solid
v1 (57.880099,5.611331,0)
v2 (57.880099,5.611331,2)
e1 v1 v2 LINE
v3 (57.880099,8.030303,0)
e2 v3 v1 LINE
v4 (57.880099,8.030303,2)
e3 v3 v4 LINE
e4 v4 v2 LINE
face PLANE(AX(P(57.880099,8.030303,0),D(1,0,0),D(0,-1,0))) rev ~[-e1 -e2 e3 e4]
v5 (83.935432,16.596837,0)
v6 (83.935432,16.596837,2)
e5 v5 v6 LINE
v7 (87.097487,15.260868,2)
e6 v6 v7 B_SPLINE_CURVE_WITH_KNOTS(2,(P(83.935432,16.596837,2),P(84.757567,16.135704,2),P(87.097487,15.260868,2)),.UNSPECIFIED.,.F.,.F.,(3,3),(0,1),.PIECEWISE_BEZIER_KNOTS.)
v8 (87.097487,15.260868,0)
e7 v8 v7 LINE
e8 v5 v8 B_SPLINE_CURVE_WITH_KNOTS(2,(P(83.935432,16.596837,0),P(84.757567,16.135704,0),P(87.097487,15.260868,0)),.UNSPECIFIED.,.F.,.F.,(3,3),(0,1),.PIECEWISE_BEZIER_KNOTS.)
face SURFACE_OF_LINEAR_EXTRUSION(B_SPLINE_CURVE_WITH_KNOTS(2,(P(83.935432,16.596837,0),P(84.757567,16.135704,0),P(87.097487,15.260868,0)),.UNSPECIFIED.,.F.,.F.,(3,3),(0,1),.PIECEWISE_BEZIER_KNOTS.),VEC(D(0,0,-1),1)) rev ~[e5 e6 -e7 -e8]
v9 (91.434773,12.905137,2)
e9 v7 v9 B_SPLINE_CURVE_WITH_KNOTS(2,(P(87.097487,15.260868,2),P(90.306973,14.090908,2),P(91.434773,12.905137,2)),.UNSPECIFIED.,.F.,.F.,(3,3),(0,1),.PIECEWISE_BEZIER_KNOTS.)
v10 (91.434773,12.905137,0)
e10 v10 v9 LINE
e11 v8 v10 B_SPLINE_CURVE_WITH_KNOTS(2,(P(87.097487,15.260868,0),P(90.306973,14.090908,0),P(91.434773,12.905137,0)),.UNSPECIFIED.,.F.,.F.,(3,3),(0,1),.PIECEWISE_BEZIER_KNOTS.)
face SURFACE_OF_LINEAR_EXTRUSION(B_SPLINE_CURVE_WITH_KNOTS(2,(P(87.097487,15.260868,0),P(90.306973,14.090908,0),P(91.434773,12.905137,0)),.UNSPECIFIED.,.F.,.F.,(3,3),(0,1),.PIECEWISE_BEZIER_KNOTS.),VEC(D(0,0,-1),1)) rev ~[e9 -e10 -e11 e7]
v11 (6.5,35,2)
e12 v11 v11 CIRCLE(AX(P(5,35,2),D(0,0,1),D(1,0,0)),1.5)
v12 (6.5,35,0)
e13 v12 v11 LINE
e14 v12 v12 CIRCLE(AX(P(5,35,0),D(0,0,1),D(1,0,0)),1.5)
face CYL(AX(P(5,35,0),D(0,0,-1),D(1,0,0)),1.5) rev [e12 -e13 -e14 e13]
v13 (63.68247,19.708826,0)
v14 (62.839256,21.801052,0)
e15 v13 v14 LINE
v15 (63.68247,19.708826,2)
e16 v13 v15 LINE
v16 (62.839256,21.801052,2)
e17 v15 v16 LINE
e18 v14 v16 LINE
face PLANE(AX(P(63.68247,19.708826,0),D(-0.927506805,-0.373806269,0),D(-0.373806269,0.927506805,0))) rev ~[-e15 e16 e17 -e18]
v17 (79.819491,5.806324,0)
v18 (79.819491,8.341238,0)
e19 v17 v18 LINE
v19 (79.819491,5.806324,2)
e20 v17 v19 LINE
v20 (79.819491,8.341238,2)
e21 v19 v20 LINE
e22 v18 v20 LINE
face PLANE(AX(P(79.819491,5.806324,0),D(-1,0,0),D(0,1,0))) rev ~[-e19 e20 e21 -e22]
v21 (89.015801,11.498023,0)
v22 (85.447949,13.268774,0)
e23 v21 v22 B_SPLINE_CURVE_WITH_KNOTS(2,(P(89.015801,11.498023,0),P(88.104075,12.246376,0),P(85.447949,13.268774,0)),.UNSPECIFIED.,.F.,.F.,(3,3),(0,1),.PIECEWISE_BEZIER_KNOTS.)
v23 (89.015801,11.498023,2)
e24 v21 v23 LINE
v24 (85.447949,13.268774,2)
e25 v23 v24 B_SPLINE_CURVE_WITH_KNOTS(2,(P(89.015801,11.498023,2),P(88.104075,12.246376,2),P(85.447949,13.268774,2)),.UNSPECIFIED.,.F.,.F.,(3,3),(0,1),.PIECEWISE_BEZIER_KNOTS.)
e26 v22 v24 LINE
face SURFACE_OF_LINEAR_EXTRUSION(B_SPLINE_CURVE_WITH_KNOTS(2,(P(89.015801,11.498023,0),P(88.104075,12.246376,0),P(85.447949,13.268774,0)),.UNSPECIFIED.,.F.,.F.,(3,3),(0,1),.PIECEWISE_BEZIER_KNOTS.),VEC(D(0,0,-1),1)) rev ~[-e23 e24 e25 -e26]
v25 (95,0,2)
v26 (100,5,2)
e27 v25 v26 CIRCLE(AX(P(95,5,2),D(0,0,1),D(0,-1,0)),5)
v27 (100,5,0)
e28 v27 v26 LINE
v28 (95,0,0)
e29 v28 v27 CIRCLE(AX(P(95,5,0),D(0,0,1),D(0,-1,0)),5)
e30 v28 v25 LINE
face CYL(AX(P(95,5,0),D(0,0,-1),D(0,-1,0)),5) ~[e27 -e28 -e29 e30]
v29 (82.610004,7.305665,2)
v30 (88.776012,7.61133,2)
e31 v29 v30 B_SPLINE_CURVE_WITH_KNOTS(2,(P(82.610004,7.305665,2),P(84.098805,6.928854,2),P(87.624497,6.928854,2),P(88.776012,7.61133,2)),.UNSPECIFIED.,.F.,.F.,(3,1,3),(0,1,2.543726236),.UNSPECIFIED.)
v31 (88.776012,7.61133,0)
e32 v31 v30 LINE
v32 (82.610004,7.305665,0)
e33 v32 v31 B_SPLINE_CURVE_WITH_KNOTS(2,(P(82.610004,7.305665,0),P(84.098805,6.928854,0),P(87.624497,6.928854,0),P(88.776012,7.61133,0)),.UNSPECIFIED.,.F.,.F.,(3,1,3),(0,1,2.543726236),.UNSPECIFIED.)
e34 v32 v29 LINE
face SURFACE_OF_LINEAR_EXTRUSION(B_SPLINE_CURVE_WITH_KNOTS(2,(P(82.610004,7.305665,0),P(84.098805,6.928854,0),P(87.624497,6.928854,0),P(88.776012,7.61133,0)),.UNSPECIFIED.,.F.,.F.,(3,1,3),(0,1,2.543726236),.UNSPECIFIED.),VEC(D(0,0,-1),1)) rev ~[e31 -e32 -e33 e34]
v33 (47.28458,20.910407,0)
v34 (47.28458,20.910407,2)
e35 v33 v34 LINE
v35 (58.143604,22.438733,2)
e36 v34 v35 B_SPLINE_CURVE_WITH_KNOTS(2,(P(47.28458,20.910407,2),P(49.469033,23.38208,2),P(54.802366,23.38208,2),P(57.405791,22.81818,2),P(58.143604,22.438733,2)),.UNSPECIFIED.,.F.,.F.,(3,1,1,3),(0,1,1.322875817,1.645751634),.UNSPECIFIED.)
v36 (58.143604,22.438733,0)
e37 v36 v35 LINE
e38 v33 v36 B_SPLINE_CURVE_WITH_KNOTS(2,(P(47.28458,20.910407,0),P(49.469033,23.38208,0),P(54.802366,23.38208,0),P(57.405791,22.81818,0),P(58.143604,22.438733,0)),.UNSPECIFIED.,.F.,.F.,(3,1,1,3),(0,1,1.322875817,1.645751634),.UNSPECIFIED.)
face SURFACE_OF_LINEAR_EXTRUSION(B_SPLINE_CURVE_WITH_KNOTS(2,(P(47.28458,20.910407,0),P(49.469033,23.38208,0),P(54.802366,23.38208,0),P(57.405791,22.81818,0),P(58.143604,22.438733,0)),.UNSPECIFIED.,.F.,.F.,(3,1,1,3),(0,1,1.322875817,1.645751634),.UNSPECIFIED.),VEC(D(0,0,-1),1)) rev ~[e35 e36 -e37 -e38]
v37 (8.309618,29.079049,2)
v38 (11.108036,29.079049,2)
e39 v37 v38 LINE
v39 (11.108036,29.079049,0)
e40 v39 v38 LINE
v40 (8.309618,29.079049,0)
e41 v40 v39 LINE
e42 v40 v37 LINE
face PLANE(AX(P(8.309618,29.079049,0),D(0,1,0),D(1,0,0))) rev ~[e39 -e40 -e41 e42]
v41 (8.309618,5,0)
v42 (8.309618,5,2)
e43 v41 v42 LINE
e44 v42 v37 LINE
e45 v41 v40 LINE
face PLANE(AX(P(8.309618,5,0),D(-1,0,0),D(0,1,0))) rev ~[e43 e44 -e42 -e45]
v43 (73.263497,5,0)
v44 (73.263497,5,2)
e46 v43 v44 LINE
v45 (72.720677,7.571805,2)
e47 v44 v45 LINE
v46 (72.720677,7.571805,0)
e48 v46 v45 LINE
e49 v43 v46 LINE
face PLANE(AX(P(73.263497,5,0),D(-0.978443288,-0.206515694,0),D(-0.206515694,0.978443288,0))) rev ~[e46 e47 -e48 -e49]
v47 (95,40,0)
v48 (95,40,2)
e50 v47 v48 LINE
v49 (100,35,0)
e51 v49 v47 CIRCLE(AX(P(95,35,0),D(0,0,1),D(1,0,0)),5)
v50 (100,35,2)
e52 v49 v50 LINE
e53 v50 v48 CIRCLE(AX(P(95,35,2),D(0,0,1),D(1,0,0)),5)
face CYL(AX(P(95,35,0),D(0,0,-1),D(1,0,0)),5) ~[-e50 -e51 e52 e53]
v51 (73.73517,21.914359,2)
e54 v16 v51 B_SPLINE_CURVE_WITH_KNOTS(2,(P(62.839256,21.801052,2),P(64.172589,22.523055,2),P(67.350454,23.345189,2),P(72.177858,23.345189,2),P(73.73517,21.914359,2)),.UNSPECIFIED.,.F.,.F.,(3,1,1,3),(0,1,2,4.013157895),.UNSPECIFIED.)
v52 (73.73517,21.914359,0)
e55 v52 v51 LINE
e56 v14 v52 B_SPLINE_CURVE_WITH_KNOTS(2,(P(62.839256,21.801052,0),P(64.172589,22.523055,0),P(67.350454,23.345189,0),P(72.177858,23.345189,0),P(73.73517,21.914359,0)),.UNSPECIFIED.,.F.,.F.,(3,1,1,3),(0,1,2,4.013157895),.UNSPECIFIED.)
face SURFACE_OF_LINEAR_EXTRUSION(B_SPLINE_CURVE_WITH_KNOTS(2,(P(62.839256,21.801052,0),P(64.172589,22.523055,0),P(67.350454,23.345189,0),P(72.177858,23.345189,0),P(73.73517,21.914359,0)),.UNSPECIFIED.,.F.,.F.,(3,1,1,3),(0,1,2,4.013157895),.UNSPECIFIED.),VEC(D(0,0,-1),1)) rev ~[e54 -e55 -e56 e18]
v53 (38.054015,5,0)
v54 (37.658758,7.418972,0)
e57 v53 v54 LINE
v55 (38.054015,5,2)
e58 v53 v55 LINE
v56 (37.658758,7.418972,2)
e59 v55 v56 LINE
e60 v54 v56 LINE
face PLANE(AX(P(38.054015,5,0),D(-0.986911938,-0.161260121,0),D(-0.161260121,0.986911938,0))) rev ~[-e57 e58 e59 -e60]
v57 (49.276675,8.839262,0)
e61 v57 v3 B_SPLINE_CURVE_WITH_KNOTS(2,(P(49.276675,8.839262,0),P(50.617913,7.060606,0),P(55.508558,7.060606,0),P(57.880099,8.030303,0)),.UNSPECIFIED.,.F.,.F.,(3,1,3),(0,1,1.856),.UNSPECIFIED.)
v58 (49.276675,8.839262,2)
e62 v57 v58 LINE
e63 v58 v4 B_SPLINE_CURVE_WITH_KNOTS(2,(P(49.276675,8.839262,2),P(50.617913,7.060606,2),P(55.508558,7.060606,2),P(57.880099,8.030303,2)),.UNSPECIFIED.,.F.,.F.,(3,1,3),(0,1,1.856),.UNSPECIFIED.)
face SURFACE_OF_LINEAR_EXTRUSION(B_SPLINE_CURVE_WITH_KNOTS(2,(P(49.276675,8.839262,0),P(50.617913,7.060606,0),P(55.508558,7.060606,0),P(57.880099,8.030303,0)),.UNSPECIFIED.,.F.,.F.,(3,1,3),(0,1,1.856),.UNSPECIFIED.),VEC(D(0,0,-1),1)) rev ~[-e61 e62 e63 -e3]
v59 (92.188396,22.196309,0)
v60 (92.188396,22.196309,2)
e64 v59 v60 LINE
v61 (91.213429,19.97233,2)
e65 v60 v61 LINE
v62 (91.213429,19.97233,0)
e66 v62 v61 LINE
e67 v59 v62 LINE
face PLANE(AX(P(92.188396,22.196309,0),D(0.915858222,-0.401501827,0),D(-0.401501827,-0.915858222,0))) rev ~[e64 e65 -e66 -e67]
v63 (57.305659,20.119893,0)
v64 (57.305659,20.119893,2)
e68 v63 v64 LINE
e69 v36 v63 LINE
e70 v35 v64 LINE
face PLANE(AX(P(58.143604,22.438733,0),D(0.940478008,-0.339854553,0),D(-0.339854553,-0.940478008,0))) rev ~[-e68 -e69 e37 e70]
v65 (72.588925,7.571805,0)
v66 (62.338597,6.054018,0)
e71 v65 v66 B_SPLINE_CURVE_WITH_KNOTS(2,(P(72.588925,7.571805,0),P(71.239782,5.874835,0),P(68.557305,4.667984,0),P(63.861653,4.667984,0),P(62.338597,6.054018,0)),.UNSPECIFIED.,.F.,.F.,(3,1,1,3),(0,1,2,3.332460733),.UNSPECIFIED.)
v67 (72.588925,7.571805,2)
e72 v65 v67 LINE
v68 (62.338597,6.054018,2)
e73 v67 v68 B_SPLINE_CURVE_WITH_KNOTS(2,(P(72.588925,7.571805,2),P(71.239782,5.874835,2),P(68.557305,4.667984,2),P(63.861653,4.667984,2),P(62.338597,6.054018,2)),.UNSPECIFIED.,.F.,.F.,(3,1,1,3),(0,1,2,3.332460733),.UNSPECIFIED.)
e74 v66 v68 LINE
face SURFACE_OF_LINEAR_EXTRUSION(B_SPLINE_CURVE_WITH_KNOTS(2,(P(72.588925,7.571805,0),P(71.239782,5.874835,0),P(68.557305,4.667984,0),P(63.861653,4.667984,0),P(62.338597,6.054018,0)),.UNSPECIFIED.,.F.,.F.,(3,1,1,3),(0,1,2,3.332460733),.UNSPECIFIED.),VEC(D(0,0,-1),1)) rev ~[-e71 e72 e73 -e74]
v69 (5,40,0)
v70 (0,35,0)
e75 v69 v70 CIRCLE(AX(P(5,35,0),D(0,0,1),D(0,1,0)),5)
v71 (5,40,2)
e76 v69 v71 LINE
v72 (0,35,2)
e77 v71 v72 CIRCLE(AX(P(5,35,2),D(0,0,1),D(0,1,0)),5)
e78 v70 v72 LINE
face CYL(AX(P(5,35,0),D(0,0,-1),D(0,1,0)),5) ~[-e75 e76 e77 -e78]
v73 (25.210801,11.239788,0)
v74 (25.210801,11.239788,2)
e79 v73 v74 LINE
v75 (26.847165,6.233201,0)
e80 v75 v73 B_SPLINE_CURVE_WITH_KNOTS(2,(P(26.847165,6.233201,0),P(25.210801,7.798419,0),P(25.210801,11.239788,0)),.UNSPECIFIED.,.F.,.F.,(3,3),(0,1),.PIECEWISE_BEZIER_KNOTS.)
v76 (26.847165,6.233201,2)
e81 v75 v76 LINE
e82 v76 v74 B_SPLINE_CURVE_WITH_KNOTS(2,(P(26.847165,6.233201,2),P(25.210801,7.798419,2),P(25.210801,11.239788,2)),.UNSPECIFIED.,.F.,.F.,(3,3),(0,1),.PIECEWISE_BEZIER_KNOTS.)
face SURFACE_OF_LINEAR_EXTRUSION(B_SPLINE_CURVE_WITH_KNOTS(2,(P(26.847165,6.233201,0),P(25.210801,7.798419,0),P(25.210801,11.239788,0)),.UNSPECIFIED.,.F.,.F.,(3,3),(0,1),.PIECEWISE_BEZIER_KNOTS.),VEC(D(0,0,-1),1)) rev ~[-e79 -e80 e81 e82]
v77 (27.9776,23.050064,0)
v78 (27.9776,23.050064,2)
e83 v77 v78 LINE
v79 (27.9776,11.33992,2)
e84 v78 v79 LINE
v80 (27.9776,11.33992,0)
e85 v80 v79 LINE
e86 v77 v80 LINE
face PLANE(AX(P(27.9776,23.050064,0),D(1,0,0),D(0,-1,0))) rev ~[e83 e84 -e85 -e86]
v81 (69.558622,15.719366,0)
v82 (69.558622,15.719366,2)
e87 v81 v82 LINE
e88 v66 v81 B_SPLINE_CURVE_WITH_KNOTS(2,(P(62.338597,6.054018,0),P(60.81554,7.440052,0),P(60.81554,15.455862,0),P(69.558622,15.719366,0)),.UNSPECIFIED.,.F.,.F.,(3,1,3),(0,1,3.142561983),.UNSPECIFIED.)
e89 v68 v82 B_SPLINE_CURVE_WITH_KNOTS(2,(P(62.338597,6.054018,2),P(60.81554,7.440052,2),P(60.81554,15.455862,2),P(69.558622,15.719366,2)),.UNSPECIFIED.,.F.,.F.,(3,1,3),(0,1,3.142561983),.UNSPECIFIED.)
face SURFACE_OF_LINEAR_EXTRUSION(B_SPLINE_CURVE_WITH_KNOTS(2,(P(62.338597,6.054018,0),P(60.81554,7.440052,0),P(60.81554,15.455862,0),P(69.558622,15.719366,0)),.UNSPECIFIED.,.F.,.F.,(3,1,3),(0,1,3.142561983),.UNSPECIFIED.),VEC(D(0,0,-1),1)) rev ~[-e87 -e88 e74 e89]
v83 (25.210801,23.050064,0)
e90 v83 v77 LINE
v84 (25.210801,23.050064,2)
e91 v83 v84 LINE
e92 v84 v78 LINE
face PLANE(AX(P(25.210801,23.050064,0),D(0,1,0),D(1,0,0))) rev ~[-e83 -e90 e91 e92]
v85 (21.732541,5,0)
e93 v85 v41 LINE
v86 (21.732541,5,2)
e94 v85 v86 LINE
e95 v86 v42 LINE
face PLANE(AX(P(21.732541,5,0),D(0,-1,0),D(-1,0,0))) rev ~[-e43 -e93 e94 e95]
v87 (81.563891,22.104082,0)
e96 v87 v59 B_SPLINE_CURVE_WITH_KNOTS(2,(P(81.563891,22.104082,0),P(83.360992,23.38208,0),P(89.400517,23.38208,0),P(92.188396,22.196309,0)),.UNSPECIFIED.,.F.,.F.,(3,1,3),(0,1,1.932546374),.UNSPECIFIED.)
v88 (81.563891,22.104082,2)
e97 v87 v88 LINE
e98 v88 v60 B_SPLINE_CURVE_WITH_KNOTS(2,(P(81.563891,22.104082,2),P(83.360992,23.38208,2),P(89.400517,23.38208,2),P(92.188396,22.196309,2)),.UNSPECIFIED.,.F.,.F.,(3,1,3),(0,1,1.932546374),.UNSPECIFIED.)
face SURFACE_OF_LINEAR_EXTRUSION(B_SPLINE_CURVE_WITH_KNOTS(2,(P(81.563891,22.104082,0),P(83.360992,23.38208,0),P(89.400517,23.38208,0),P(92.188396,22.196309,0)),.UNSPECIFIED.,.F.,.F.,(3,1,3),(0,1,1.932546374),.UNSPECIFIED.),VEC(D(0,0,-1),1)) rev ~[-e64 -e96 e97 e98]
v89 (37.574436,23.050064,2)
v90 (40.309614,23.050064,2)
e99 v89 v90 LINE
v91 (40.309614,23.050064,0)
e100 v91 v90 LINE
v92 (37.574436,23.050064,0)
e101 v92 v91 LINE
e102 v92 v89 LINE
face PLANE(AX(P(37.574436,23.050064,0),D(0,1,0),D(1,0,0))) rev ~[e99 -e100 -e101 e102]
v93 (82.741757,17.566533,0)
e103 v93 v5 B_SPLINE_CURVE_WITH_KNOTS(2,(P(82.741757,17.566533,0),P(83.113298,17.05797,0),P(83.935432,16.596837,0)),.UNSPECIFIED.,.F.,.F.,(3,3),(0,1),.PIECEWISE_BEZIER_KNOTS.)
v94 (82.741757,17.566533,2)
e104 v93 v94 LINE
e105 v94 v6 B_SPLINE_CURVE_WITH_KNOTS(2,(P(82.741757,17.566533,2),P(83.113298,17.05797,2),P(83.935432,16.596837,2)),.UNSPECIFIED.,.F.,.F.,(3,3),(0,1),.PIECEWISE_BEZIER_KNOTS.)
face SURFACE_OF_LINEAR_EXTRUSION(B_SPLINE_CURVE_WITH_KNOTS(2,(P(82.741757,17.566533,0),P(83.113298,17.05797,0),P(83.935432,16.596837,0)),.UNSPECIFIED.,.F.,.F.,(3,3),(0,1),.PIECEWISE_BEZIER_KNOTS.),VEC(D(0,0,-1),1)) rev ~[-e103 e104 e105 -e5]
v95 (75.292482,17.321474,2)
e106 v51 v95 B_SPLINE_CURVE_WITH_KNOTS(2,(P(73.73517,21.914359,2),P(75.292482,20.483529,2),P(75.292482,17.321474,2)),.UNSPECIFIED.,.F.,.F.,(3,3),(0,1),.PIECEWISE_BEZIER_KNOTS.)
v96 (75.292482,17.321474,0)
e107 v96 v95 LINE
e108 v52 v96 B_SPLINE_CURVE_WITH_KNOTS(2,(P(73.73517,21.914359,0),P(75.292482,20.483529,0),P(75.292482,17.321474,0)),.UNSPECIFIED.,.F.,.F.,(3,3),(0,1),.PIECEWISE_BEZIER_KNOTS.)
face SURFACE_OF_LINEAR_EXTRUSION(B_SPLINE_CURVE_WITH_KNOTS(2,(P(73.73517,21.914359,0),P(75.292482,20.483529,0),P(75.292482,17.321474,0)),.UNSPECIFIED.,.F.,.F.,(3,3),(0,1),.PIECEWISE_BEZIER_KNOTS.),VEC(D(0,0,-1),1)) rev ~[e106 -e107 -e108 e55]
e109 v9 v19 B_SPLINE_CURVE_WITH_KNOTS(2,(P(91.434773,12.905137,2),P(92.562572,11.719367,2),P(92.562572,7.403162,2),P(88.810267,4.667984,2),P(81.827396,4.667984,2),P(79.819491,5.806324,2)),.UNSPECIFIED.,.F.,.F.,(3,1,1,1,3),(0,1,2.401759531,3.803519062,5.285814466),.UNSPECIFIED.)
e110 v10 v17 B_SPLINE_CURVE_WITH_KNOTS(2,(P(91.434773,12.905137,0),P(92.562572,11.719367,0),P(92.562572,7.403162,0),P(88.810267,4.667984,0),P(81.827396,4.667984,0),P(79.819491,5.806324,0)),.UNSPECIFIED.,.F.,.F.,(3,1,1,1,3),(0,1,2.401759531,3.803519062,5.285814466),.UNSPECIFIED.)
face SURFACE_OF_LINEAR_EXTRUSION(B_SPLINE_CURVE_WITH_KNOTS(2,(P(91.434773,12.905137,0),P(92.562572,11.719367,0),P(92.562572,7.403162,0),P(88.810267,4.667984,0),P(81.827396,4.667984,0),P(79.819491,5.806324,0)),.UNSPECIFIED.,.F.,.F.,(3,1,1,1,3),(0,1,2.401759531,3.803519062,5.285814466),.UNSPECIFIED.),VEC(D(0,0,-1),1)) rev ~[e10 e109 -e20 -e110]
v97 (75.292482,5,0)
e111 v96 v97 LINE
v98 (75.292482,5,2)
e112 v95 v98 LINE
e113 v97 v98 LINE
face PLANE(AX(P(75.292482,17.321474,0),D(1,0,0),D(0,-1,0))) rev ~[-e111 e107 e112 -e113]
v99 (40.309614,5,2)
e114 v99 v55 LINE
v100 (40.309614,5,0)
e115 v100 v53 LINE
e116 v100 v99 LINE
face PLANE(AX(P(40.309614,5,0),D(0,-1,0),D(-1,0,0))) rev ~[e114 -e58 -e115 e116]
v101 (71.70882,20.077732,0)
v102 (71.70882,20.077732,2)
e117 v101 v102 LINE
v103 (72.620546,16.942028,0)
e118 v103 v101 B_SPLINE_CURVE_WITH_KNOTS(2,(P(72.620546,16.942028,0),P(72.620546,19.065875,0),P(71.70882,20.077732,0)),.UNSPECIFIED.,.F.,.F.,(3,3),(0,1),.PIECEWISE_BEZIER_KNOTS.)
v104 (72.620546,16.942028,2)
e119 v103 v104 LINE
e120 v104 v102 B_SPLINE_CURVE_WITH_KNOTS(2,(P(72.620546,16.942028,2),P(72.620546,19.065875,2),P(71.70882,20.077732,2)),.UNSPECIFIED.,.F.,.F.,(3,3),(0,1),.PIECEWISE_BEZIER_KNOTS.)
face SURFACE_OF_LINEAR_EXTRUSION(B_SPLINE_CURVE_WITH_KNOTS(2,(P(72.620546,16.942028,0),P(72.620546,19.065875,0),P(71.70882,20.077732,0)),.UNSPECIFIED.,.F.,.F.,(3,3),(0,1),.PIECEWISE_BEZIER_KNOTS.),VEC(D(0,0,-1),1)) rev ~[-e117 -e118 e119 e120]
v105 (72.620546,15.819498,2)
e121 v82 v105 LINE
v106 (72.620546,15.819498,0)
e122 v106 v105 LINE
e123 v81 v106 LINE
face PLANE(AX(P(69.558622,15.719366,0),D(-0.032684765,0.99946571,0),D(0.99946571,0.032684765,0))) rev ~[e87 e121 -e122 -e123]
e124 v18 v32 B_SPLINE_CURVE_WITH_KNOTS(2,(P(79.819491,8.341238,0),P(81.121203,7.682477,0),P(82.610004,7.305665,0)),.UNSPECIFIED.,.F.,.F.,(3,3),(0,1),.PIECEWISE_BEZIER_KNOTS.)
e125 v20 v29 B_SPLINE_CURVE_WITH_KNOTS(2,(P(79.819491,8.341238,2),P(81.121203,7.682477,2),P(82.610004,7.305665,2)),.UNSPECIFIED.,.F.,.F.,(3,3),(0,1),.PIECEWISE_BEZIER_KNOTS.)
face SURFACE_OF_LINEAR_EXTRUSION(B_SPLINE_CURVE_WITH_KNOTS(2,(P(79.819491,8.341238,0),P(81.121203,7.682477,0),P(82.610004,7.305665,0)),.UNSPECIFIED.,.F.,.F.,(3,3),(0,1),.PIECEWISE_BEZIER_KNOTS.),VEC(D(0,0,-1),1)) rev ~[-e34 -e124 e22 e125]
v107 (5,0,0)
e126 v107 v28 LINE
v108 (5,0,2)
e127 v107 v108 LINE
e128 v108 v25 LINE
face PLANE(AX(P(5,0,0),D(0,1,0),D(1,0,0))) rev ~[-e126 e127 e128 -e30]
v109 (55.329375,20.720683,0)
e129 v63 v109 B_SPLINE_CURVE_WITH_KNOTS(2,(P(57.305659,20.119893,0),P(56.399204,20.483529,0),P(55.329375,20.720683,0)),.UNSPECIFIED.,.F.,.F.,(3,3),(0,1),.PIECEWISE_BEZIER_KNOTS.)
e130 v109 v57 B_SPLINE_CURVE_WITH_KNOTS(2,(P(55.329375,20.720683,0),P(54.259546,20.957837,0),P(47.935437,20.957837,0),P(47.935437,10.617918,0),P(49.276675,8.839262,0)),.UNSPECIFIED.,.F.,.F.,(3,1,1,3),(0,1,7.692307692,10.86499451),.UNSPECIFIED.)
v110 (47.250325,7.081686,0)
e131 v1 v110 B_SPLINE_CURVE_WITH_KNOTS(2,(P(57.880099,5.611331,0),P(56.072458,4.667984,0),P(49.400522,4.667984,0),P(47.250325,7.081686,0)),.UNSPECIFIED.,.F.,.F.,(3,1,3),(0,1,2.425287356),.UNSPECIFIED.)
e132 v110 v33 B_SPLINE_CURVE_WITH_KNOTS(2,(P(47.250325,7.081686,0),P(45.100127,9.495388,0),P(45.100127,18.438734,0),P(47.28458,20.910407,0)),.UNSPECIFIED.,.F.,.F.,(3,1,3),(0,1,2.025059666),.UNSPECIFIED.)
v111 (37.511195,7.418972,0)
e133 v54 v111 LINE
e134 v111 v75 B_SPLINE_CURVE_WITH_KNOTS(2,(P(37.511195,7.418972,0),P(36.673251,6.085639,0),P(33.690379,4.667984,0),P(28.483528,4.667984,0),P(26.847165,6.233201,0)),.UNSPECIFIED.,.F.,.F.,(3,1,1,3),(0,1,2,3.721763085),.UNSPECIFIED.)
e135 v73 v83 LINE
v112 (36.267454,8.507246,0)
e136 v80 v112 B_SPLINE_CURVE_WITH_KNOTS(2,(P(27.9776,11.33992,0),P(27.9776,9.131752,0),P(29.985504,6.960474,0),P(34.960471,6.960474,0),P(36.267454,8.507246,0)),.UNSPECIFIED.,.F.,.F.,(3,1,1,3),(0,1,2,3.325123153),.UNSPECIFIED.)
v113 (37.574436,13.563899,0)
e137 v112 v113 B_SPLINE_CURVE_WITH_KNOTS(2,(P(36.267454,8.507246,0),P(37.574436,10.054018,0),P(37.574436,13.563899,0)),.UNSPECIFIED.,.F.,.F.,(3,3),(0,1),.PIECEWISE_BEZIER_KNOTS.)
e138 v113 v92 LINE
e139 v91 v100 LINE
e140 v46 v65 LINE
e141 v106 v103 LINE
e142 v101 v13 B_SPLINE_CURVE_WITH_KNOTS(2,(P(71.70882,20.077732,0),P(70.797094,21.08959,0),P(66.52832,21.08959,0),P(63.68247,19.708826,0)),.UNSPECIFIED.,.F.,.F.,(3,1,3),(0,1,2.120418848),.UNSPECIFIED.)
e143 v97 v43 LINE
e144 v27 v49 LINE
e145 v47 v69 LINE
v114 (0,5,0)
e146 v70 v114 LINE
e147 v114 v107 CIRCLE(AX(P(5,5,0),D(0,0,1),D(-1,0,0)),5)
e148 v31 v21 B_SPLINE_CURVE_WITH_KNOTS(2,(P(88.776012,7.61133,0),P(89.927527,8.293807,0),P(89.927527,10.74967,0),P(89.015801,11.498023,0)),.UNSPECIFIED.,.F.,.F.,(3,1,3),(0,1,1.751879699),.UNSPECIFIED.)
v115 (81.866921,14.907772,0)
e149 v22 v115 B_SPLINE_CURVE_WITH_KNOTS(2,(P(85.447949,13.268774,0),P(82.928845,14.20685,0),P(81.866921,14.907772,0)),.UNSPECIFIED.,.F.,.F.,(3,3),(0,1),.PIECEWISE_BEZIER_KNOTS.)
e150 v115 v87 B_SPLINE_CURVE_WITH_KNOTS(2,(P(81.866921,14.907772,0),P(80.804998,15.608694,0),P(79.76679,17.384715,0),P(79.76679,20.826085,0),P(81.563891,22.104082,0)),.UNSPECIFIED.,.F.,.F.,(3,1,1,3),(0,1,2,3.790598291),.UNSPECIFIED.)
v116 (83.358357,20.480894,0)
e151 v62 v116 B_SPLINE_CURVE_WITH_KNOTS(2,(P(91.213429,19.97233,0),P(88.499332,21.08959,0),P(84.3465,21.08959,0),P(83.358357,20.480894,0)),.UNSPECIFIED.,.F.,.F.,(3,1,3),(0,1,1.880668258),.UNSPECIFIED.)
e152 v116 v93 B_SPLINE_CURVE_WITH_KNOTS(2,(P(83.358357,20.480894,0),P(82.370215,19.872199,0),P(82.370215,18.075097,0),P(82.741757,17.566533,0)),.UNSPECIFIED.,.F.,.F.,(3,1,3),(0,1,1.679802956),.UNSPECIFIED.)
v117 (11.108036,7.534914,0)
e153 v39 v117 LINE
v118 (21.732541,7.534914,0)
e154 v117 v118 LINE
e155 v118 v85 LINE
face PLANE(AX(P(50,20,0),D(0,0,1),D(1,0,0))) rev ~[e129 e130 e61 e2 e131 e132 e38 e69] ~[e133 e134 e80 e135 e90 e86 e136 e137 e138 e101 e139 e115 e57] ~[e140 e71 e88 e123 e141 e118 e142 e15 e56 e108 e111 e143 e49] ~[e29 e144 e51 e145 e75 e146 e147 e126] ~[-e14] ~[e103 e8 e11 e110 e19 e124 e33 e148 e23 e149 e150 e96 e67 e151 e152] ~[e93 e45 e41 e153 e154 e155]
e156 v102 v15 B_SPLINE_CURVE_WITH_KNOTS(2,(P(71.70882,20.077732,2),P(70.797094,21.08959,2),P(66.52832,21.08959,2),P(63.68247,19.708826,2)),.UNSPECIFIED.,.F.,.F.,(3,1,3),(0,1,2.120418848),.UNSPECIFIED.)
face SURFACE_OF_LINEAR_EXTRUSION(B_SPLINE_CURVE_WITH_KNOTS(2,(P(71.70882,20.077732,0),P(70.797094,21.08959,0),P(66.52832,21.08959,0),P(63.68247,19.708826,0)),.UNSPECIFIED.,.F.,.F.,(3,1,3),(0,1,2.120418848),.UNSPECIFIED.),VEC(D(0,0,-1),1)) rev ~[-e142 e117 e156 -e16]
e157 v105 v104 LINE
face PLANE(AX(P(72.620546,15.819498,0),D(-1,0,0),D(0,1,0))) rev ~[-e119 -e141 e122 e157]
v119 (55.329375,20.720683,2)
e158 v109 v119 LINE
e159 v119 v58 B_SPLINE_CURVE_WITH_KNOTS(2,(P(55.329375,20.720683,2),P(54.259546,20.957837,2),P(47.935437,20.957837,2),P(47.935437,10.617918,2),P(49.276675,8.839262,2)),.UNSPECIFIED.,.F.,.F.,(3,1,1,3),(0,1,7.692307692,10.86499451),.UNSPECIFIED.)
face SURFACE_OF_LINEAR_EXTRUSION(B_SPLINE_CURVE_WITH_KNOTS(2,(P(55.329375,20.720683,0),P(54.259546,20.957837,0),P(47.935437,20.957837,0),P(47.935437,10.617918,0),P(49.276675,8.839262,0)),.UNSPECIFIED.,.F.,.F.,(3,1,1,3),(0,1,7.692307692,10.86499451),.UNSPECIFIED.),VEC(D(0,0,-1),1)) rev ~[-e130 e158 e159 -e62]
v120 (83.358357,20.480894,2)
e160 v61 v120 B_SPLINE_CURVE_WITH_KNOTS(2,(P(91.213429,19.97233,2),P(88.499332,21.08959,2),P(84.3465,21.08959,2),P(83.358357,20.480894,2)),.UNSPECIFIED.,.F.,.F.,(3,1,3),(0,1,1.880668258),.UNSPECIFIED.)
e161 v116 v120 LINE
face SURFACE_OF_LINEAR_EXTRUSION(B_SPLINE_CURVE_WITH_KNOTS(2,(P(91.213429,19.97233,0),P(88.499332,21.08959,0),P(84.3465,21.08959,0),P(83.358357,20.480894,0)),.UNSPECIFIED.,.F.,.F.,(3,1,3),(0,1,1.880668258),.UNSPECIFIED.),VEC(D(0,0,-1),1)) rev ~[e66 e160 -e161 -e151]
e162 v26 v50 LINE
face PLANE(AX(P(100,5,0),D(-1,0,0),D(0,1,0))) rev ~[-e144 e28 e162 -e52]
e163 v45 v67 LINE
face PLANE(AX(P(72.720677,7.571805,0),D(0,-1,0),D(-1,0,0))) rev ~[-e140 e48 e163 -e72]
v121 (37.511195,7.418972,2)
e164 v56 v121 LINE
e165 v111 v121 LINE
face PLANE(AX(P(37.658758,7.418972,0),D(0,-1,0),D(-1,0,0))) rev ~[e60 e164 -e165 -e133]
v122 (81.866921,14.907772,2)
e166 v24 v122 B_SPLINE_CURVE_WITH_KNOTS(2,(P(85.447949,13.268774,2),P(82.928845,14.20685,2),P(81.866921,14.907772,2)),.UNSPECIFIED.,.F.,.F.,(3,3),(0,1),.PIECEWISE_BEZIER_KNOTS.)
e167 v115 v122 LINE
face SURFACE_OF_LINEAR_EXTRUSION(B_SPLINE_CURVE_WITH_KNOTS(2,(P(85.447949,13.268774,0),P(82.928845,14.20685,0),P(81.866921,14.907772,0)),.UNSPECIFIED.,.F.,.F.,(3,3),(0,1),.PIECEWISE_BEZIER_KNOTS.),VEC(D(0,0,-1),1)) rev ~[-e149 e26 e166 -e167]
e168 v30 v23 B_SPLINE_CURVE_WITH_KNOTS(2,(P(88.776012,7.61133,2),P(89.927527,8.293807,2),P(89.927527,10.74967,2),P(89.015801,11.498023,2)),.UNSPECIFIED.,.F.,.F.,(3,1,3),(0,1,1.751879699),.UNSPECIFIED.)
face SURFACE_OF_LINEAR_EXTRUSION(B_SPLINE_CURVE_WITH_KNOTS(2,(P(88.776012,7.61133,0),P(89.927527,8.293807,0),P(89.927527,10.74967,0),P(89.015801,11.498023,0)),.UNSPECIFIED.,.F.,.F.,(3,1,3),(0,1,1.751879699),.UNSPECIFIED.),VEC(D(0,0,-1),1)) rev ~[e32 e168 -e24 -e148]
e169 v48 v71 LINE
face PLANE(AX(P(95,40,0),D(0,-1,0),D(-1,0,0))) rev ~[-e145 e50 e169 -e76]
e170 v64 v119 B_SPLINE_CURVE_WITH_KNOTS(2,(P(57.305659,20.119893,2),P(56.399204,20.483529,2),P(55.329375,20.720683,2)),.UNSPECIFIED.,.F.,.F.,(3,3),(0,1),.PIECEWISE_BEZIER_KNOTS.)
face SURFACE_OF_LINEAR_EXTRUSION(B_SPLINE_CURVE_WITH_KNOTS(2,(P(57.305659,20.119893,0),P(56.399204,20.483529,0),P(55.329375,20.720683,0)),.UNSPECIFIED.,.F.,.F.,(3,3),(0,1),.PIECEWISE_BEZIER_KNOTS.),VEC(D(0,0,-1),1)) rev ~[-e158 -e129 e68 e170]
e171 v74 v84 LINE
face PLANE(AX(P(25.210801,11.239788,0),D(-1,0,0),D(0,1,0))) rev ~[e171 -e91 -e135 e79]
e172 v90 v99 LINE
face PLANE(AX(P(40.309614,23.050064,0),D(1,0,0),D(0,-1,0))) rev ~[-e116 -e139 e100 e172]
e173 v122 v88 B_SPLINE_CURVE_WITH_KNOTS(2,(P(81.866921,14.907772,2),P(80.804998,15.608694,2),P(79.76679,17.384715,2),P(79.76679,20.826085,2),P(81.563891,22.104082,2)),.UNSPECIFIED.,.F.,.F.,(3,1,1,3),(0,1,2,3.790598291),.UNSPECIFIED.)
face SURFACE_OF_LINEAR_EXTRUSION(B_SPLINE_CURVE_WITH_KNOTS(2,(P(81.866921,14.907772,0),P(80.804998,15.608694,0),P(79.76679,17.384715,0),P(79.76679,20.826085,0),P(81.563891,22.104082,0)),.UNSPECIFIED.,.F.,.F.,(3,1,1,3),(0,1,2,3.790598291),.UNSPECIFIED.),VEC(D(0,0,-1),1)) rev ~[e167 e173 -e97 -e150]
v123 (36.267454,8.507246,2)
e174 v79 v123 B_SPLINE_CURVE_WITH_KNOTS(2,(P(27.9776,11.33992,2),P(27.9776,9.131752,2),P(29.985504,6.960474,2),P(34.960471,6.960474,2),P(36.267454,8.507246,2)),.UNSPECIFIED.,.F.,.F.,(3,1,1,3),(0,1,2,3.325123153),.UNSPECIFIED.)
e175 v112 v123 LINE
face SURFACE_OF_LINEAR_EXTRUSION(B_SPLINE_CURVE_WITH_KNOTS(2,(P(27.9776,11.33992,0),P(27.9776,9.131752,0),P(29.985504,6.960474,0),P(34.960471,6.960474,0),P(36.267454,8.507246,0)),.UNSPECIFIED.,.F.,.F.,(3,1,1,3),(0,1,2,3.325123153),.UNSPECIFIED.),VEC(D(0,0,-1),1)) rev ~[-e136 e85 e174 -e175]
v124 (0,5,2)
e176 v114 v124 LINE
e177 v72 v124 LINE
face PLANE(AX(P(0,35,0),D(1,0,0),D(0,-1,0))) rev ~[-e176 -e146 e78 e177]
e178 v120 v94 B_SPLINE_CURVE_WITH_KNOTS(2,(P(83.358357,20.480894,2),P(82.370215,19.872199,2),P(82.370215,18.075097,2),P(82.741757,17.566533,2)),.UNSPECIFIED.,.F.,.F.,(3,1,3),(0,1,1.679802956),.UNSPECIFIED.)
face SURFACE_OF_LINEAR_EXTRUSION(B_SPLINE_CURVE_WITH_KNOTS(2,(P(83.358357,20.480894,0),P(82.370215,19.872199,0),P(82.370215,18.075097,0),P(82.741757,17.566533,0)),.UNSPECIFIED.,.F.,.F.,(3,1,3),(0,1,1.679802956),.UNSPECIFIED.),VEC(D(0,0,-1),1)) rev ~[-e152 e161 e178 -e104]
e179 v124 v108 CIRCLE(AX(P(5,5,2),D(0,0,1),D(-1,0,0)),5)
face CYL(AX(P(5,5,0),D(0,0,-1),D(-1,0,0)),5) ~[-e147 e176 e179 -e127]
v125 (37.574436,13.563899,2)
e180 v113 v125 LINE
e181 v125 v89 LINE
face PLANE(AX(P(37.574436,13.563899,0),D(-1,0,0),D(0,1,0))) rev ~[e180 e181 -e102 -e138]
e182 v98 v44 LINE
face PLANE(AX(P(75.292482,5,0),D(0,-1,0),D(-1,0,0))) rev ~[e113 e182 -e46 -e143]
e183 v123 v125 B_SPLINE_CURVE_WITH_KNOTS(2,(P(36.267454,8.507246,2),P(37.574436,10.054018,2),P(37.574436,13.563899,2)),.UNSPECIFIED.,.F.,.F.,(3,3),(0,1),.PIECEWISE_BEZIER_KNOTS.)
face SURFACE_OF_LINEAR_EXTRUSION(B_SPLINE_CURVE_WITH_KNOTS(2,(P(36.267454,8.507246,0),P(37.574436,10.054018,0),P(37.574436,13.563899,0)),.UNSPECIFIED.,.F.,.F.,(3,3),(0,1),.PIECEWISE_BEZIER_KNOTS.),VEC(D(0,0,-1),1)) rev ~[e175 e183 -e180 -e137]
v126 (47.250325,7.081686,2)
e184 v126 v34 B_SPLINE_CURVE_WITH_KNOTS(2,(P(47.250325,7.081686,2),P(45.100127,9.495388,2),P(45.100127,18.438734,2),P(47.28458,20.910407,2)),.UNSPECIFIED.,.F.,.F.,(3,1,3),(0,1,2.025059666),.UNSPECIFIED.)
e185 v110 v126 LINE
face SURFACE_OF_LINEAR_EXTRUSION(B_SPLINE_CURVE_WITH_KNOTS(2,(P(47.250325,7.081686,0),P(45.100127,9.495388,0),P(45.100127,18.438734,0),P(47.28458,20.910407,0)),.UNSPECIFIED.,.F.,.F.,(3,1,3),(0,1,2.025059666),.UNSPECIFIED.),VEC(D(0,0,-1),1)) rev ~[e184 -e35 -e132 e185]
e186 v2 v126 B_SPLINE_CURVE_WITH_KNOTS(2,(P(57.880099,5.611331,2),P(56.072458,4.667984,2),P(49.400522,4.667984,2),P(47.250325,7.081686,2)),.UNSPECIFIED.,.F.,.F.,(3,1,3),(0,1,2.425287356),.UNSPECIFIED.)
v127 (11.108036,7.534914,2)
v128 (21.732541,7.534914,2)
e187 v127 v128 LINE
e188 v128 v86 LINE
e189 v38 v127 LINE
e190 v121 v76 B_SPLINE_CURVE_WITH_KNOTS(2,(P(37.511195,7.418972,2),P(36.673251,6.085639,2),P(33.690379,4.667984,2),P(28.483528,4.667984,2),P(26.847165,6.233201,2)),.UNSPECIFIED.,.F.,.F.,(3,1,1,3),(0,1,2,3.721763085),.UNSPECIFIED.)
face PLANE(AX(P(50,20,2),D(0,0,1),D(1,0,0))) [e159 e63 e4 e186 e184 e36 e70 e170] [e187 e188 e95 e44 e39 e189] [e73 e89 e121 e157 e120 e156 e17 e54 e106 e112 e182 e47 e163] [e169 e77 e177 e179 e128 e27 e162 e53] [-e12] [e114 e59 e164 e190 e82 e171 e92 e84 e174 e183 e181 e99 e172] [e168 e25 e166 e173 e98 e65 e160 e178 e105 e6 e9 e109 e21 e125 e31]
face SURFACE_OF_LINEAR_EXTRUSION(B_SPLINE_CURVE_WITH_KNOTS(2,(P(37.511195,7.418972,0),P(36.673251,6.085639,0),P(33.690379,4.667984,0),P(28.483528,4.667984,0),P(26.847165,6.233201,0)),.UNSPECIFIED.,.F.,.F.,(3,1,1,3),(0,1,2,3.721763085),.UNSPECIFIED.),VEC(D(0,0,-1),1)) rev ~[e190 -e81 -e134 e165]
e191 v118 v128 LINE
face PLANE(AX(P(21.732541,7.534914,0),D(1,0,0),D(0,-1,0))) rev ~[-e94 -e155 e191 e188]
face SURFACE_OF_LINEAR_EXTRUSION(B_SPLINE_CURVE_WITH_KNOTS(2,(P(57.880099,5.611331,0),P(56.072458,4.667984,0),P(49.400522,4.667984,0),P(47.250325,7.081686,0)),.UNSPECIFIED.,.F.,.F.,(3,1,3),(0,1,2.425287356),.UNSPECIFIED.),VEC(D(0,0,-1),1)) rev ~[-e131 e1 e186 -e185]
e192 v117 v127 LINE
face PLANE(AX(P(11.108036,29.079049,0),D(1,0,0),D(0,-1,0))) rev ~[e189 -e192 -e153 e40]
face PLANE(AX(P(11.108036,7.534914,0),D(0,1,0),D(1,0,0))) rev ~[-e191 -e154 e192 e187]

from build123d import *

# Parameters (mm, degrees)
F0_R     = 1.5
F1_DEPTH = 2


with BuildPart() as f1:
    # F0 (on Top) → F1 (new body)
    with BuildSketch(Plane.XY):
        with BuildLine():
            ThreePointArc((0, 5), (1.4644660941, 1.4644660941), (5, 0))
            Line((5, 0), (95, 0))
            ThreePointArc((95, 0), (98.5355339059, 1.4644660941), (100, 5))
            Line((100, 5), (100, 35))
            ThreePointArc((100, 35), (98.5355339059, 38.5355339059), (95, 40))
            Line((95, 40), (5, 40))
            ThreePointArc((5, 40), (1.4644660941, 38.5355339059), (0, 35))
            Line((0, 35), (0, 5))
        make_face()
        Polygon((21.7325409239, 5), (8.3096175434, 5), (8.3096175434, 29.0790486555), (11.1080361987, 29.0790486555), (11.1080361987, 7.5349140738), (21.7325409239, 7.5349140738), align=None, mode=Mode.SUBTRACT)
        with BuildLine():
            Line((25.2108013994, 23.0500638312), (27.9775995049, 23.0500638312))
            Line((27.9775995049, 23.0500638312), (27.9775995049, 11.3399202304))
            add(Edge.make_bspline(
                [(27.9775995049, 11.3399202304), (27.9775995049, 9.1317518376), (28.9815519603, 8.0461129619)],
                knots=[0, 0, 0, 1, 1, 1], degree=2))
            add(Edge.make_bspline(
                [(28.9815519603, 8.0461129619), (29.9855044157, 6.9604740862), (32.1251616173, 6.9604740862)],
                knots=[0, 0, 0, 1, 1, 1], degree=2))
            add(Edge.make_bspline(
                [(32.1251616173, 6.9604740862), (34.960470914, 6.9604740862), (36.2674536382, 8.5072459795)],
                knots=[0, 0, 0, 1, 1, 1], degree=2))
            add(Edge.make_bspline(
                [(36.2674536382, 8.5072459795), (37.5744363623, 10.0540178727), (37.5744363623, 13.563898898)],
                knots=[0, 0, 0, 1, 1, 1], degree=2))
            Line((37.5744363623, 13.563898898), (37.5744363623, 23.0500638312))
            Line((37.5744363623, 23.0500638312), (40.3096139181, 23.0500638312))
            Line((40.3096139181, 23.0500638312), (40.3096139181, 5))
            Line((40.3096139181, 5), (38.0540147006, 5))
            Line((38.0540147006, 5), (37.6587578284, 7.418972058))
            Line((37.6587578284, 7.418972058), (37.5111952628, 7.418972058))
            add(Edge.make_bspline(
                [(37.5111952628, 7.418972058), (36.6732506937, 6.0856388757), (35.1818147625, 5.3768115515)],
                knots=[0, 0, 0, 1, 1, 1], degree=2))
            add(Edge.make_bspline(
                [(35.1818147625, 5.3768115515), (33.6903788313, 4.6679842273), (31.7773355698, 4.6679842273)],
                knots=[0, 0, 0, 1, 1, 1], degree=2))
            add(Edge.make_bspline(
                [(31.7773355698, 4.6679842273), (28.4835283013, 4.6679842273), (26.8471648503, 6.2332014413)],
                knots=[0, 0, 0, 1, 1, 1], degree=2))
            add(Edge.make_bspline(
                [(26.8471648503, 6.2332014413), (25.2108013994, 7.7984186553), (25.2108013994, 11.2397884894)],
                knots=[0, 0, 0, 1, 1, 1], degree=2))
            Line((25.2108013994, 11.2397884894), (25.2108013994, 23.0500638312))
        make_face(mode=Mode.SUBTRACT)
        with BuildLine():
            add(Edge.make_bspline(
                [(57.880099411, 5.611330629), (56.0724579821, 4.6679842273), (53.3214701514, 4.6679842273)],
                knots=[0, 0, 0, 1, 1, 1], degree=2))
            add(Edge.make_bspline(
                [(53.3214701514, 4.6679842273), (49.400521979, 4.6679842273), (47.2503245942, 7.0816861937)],
                knots=[0, 0, 0, 1, 1, 1], degree=2))
            add(Edge.make_bspline(
                [(47.2503245942, 7.0816861937), (45.1001272093, 9.49538816), (45.1001272093, 13.9117249456)],
                knots=[0, 0, 0, 1, 1, 1], degree=2))
            add(Edge.make_bspline(
                [(45.1001272093, 13.9117249456), (45.1001272093, 18.4387336554), (47.2845801898, 20.9104066296)],
                knots=[0, 0, 0, 1, 1, 1], degree=2))
            add(Edge.make_bspline(
                [(47.2845801898, 20.9104066296), (49.4690331702, 23.3820796039), (53.5006532668, 23.3820796039)],
                knots=[0, 0, 0, 1, 1, 1], degree=2))
            add(Edge.make_bspline(
                [(53.5006532668, 23.3820796039), (54.8023658993, 23.3820796039), (56.1040785318, 23.1001297017)],
                knots=[0, 0, 0, 1, 1, 1], degree=2))
            add(Edge.make_bspline(
                [(56.1040785318, 23.1001297017), (57.4057911643, 22.8181797995), (58.1436039925, 22.4387332022)],
                knots=[0, 0, 0, 1, 1, 1], degree=2))
            Line((58.1436039925, 22.4387332022), (57.3056594234, 20.1198928852))
            add(Edge.make_bspline(
                [(57.3056594234, 20.1198928852), (56.3992036631, 20.4835292076), (55.3293750623, 20.720683331)],
                knots=[0, 0, 0, 1, 1, 1], degree=2))
            add(Edge.make_bspline(
                [(55.3293750623, 20.720683331), (54.2595464615, 20.9578374543), (53.4374121673, 20.9578374543)],
                knots=[0, 0, 0, 1, 1, 1], degree=2))
            add(Edge.make_bspline(
                [(53.4374121673, 20.9578374543), (47.935436506, 20.9578374543), (47.935436506, 13.9433454954)],
                knots=[0, 0, 0, 1, 1, 1], degree=2))
            add(Edge.make_bspline(
                [(47.935436506, 13.9433454954), (47.935436506, 10.6179176771), (49.2766748257, 8.8392617521)],
                knots=[0, 0, 0, 1, 1, 1], degree=2))
            add(Edge.make_bspline(
                [(49.2766748257, 8.8392617521), (50.6179131455, 7.0606058272), (53.2529589602, 7.0606058272)],
                knots=[0, 0, 0, 1, 1, 1], degree=2))
            add(Edge.make_bspline(
                [(53.2529589602, 7.0606058272), (55.5085581777, 7.0606058272), (57.880099411, 8.030302687)],
                knots=[0, 0, 0, 1, 1, 1], degree=2))
            Line((57.880099411, 8.030302687), (57.880099411, 5.611330629))
        make_face(mode=Mode.SUBTRACT)
        with BuildLine():
            Line((75.2924821551, 5), (73.2634968777, 5))
            Line((73.2634968777, 5), (72.7206774398, 7.5718047152))
            Line((72.7206774398, 7.5718047152), (72.5889251491, 7.5718047152))
            add(Edge.make_bspline(
                [(72.5889251491, 7.5718047152), (71.2397816919, 5.8748352105), (69.8985433722, 5.2714097189)],
                knots=[0, 0, 0, 1, 1, 1], degree=2))
            add(Edge.make_bspline(
                [(69.8985433722, 5.2714097189), (68.5573050525, 4.6679842273), (66.54413005, 4.6679842273)],
                knots=[0, 0, 0, 1, 1, 1], degree=2))
            add(Edge.make_bspline(
                [(66.54413005, 4.6679842273), (63.8616534106, 4.6679842273), (62.3385969296, 6.0540183259)],
                knots=[0, 0, 0, 1, 1, 1], degree=2))
            add(Edge.make_bspline(
                [(62.3385969296, 6.0540183259), (60.8155404487, 7.4400524245), (60.8155404487, 9.9907767732)],
                knots=[0, 0, 0, 1, 1, 1], degree=2))
            add(Edge.make_bspline(
                [(60.8155404487, 9.9907767732), (60.8155404487, 15.455861793), (69.5586224621, 15.7193663745)],
                knots=[0, 0, 0, 1, 1, 1], degree=2))
            Line((69.5586224621, 15.7193663745), (72.6205456989, 15.8194981155))
            Line((72.6205456989, 15.8194981155), (72.6205456989, 16.9420276326))
            add(Edge.make_bspline(
                [(72.6205456989, 16.9420276326), (72.6205456989, 19.0658745593), (71.708819847, 20.0777321522)],
                knots=[0, 0, 0, 1, 1, 1], degree=2))
            add(Edge.make_bspline(
                [(71.708819847, 20.0777321522), (70.7970939951, 21.089589745), (68.7839189926, 21.089589745)],
                knots=[0, 0, 0, 1, 1, 1], degree=2))
            add(Edge.make_bspline(
                [(68.7839189926, 21.089589745), (66.5283197751, 21.089589745), (63.6824702951, 19.7088257381)],
                knots=[0, 0, 0, 1, 1, 1], degree=2))
            Line((63.6824702951, 19.7088257381), (62.8392556344, 21.801052115))
            add(Edge.make_bspline(
                [(62.8392556344, 21.801052115), (64.1725888167, 22.5230546683), (65.761521443, 22.9341218154)],
                knots=[0, 0, 0, 1, 1, 1], degree=2))
            add(Edge.make_bspline(
                [(65.761521443, 22.9341218154), (67.3504540693, 23.3451889625), (68.9525619247, 23.3451889625)],
                knots=[0, 0, 0, 1, 1, 1], degree=2))
            add(Edge.make_bspline(
                [(68.9525619247, 23.3451889625), (72.177858002, 23.3451889625), (73.7351700785, 21.9143590851)],
                knots=[0, 0, 0, 1, 1, 1], degree=2))
            add(Edge.make_bspline(
                [(73.7351700785, 21.9143590851), (75.2924821551, 20.4835292076), (75.2924821551, 17.3214742299)],
                knots=[0, 0, 0, 1, 1, 1], degree=2))
            Line((75.2924821551, 17.3214742299), (75.2924821551, 5))
        make_face(mode=Mode.SUBTRACT)
        with BuildLine():
            add(Edge.make_bspline(
                [(91.4347728164, 12.9051374443), (92.5625724251, 11.7193668277), (92.5625724251, 9.922265582)],
                knots=[0, 0, 0, 1, 1, 1], degree=2))
            add(Edge.make_bspline(
                [(92.5625724251, 9.922265582), (92.5625724251, 7.4031617831), (90.686419805, 6.0355730052)],
                knots=[0, 0, 0, 1, 1, 1], degree=2))
            add(Edge.make_bspline(
                [(90.686419805, 6.0355730052), (88.8102671849, 4.6679842273), (85.4163281755, 4.6679842273)],
                knots=[0, 0, 0, 1, 1, 1], degree=2))
            add(Edge.make_bspline(
                [(85.4163281755, 4.6679842273), (81.8273957757, 4.6679842273), (79.8194908649, 5.8063240193)],
                knots=[0, 0, 0, 1, 1, 1], degree=2))
            Line((79.8194908649, 5.8063240193), (79.8194908649, 8.3412380931))
            add(Edge.make_bspline(
                [(79.8194908649, 8.3412380931), (81.1212034974, 7.6824766394), (82.6100043827, 7.3056650879)],
                knots=[0, 0, 0, 1, 1, 1], degree=2))
            add(Edge.make_bspline(
                [(82.6100043827, 7.3056650879), (84.0988052681, 6.9288535364), (85.4848393666, 6.9288535364)],
                knots=[0, 0, 0, 1, 1, 1], degree=2))
            add(Edge.make_bspline(
                [(85.4848393666, 6.9288535364), (87.6244965682, 6.9288535364), (88.7760115893, 7.6113304024)],
                knots=[0, 0, 0, 1, 1, 1], degree=2))
            add(Edge.make_bspline(
                [(88.7760115893, 7.6113304024), (89.9275266104, 8.2938072685), (89.9275266104, 9.6956516419)],
                knots=[0, 0, 0, 1, 1, 1], degree=2))
            add(Edge.make_bspline(
                [(89.9275266104, 9.6956516419), (89.9275266104, 10.7496699678), (89.0158007584, 11.4980229792)],
                knots=[0, 0, 0, 1, 1, 1], degree=2))
            add(Edge.make_bspline(
                [(89.0158007584, 11.4980229792), (88.1040749065, 12.2463759906), (85.4479487252, 13.2687737668)],
                knots=[0, 0, 0, 1, 1, 1], degree=2))
            add(Edge.make_bspline(
                [(85.4479487252, 13.2687737668), (82.9288449263, 14.2068500768), (81.8669214629, 14.9077722636)],
                knots=[0, 0, 0, 1, 1, 1], degree=2))
            add(Edge.make_bspline(
                [(81.8669214629, 14.9077722636), (80.8049979996, 15.6086944503), (80.2858939741, 16.4967048899)],
                knots=[0, 0, 0, 1, 1, 1], degree=2))
            add(Edge.make_bspline(
                [(80.2858939741, 16.4967048899), (79.7667899486, 17.3847153295), (79.7667899486, 18.6179167708)],
                knots=[0, 0, 0, 1, 1, 1], degree=2))
            add(Edge.make_bspline(
                [(79.7667899486, 18.6179167708), (79.7667899486, 20.8260851636), (81.5638911942, 22.1040823837)],
                knots=[0, 0, 0, 1, 1, 1], degree=2))
            add(Edge.make_bspline(
                [(81.5638911942, 22.1040823837), (83.3609924399, 23.3820796039), (86.4861567763, 23.3820796039)],
                knots=[0, 0, 0, 1, 1, 1], degree=2))
            add(Edge.make_bspline(
                [(86.4861567763, 23.3820796039), (89.4005174474, 23.3820796039), (92.1883959194, 22.1963089873)],
                knots=[0, 0, 0, 1, 1, 1], degree=2))
            Line((92.1883959194, 22.1963089873), (91.213428968, 19.9723303196))
            add(Edge.make_bspline(
                [(91.213428968, 19.9723303196), (88.4993317787, 21.089589745), (86.291163386, 21.089589745)],
                knots=[0, 0, 0, 1, 1, 1], degree=2))
            add(Edge.make_bspline(
                [(86.291163386, 21.089589745), (84.3464995747, 21.089589745), (83.3583573941, 20.4808941618)],
                knots=[0, 0, 0, 1, 1, 1], degree=2))
            add(Edge.make_bspline(
                [(83.3583573941, 20.4808941618), (82.3702152136, 19.8721985786), (82.3702152136, 18.8023699778)],
                knots=[0, 0, 0, 1, 1, 1], degree=2))
            add(Edge.make_bspline(
                [(82.3702152136, 18.8023699778), (82.3702152136, 18.0750973329), (82.7417566735, 17.5665334907)],
                knots=[0, 0, 0, 1, 1, 1], degree=2))
            add(Edge.make_bspline(
                [(82.7417566735, 17.5665334907), (83.1132981333, 17.0579696484), (83.9354324275, 16.5968366308)],
                knots=[0, 0, 0, 1, 1, 1], degree=2))
            add(Edge.make_bspline(
                [(83.9354324275, 16.5968366308), (84.7575667218, 16.1357036133), (87.0974874053, 15.2608684028)],
                knots=[0, 0, 0, 1, 1, 1], degree=2))
            add(Edge.make_bspline(
                [(87.0974874053, 15.2608684028), (90.3069732077, 14.090908061), (91.4347728164, 12.9051374443)],
                knots=[0, 0, 0, 1, 1, 1], degree=2))
        make_face(mode=Mode.SUBTRACT)
        with Locations((5, 35)):
            Circle(F0_R, mode=Mode.SUBTRACT)
    extrude(amount=F1_DEPTH)


solid = f1.part
